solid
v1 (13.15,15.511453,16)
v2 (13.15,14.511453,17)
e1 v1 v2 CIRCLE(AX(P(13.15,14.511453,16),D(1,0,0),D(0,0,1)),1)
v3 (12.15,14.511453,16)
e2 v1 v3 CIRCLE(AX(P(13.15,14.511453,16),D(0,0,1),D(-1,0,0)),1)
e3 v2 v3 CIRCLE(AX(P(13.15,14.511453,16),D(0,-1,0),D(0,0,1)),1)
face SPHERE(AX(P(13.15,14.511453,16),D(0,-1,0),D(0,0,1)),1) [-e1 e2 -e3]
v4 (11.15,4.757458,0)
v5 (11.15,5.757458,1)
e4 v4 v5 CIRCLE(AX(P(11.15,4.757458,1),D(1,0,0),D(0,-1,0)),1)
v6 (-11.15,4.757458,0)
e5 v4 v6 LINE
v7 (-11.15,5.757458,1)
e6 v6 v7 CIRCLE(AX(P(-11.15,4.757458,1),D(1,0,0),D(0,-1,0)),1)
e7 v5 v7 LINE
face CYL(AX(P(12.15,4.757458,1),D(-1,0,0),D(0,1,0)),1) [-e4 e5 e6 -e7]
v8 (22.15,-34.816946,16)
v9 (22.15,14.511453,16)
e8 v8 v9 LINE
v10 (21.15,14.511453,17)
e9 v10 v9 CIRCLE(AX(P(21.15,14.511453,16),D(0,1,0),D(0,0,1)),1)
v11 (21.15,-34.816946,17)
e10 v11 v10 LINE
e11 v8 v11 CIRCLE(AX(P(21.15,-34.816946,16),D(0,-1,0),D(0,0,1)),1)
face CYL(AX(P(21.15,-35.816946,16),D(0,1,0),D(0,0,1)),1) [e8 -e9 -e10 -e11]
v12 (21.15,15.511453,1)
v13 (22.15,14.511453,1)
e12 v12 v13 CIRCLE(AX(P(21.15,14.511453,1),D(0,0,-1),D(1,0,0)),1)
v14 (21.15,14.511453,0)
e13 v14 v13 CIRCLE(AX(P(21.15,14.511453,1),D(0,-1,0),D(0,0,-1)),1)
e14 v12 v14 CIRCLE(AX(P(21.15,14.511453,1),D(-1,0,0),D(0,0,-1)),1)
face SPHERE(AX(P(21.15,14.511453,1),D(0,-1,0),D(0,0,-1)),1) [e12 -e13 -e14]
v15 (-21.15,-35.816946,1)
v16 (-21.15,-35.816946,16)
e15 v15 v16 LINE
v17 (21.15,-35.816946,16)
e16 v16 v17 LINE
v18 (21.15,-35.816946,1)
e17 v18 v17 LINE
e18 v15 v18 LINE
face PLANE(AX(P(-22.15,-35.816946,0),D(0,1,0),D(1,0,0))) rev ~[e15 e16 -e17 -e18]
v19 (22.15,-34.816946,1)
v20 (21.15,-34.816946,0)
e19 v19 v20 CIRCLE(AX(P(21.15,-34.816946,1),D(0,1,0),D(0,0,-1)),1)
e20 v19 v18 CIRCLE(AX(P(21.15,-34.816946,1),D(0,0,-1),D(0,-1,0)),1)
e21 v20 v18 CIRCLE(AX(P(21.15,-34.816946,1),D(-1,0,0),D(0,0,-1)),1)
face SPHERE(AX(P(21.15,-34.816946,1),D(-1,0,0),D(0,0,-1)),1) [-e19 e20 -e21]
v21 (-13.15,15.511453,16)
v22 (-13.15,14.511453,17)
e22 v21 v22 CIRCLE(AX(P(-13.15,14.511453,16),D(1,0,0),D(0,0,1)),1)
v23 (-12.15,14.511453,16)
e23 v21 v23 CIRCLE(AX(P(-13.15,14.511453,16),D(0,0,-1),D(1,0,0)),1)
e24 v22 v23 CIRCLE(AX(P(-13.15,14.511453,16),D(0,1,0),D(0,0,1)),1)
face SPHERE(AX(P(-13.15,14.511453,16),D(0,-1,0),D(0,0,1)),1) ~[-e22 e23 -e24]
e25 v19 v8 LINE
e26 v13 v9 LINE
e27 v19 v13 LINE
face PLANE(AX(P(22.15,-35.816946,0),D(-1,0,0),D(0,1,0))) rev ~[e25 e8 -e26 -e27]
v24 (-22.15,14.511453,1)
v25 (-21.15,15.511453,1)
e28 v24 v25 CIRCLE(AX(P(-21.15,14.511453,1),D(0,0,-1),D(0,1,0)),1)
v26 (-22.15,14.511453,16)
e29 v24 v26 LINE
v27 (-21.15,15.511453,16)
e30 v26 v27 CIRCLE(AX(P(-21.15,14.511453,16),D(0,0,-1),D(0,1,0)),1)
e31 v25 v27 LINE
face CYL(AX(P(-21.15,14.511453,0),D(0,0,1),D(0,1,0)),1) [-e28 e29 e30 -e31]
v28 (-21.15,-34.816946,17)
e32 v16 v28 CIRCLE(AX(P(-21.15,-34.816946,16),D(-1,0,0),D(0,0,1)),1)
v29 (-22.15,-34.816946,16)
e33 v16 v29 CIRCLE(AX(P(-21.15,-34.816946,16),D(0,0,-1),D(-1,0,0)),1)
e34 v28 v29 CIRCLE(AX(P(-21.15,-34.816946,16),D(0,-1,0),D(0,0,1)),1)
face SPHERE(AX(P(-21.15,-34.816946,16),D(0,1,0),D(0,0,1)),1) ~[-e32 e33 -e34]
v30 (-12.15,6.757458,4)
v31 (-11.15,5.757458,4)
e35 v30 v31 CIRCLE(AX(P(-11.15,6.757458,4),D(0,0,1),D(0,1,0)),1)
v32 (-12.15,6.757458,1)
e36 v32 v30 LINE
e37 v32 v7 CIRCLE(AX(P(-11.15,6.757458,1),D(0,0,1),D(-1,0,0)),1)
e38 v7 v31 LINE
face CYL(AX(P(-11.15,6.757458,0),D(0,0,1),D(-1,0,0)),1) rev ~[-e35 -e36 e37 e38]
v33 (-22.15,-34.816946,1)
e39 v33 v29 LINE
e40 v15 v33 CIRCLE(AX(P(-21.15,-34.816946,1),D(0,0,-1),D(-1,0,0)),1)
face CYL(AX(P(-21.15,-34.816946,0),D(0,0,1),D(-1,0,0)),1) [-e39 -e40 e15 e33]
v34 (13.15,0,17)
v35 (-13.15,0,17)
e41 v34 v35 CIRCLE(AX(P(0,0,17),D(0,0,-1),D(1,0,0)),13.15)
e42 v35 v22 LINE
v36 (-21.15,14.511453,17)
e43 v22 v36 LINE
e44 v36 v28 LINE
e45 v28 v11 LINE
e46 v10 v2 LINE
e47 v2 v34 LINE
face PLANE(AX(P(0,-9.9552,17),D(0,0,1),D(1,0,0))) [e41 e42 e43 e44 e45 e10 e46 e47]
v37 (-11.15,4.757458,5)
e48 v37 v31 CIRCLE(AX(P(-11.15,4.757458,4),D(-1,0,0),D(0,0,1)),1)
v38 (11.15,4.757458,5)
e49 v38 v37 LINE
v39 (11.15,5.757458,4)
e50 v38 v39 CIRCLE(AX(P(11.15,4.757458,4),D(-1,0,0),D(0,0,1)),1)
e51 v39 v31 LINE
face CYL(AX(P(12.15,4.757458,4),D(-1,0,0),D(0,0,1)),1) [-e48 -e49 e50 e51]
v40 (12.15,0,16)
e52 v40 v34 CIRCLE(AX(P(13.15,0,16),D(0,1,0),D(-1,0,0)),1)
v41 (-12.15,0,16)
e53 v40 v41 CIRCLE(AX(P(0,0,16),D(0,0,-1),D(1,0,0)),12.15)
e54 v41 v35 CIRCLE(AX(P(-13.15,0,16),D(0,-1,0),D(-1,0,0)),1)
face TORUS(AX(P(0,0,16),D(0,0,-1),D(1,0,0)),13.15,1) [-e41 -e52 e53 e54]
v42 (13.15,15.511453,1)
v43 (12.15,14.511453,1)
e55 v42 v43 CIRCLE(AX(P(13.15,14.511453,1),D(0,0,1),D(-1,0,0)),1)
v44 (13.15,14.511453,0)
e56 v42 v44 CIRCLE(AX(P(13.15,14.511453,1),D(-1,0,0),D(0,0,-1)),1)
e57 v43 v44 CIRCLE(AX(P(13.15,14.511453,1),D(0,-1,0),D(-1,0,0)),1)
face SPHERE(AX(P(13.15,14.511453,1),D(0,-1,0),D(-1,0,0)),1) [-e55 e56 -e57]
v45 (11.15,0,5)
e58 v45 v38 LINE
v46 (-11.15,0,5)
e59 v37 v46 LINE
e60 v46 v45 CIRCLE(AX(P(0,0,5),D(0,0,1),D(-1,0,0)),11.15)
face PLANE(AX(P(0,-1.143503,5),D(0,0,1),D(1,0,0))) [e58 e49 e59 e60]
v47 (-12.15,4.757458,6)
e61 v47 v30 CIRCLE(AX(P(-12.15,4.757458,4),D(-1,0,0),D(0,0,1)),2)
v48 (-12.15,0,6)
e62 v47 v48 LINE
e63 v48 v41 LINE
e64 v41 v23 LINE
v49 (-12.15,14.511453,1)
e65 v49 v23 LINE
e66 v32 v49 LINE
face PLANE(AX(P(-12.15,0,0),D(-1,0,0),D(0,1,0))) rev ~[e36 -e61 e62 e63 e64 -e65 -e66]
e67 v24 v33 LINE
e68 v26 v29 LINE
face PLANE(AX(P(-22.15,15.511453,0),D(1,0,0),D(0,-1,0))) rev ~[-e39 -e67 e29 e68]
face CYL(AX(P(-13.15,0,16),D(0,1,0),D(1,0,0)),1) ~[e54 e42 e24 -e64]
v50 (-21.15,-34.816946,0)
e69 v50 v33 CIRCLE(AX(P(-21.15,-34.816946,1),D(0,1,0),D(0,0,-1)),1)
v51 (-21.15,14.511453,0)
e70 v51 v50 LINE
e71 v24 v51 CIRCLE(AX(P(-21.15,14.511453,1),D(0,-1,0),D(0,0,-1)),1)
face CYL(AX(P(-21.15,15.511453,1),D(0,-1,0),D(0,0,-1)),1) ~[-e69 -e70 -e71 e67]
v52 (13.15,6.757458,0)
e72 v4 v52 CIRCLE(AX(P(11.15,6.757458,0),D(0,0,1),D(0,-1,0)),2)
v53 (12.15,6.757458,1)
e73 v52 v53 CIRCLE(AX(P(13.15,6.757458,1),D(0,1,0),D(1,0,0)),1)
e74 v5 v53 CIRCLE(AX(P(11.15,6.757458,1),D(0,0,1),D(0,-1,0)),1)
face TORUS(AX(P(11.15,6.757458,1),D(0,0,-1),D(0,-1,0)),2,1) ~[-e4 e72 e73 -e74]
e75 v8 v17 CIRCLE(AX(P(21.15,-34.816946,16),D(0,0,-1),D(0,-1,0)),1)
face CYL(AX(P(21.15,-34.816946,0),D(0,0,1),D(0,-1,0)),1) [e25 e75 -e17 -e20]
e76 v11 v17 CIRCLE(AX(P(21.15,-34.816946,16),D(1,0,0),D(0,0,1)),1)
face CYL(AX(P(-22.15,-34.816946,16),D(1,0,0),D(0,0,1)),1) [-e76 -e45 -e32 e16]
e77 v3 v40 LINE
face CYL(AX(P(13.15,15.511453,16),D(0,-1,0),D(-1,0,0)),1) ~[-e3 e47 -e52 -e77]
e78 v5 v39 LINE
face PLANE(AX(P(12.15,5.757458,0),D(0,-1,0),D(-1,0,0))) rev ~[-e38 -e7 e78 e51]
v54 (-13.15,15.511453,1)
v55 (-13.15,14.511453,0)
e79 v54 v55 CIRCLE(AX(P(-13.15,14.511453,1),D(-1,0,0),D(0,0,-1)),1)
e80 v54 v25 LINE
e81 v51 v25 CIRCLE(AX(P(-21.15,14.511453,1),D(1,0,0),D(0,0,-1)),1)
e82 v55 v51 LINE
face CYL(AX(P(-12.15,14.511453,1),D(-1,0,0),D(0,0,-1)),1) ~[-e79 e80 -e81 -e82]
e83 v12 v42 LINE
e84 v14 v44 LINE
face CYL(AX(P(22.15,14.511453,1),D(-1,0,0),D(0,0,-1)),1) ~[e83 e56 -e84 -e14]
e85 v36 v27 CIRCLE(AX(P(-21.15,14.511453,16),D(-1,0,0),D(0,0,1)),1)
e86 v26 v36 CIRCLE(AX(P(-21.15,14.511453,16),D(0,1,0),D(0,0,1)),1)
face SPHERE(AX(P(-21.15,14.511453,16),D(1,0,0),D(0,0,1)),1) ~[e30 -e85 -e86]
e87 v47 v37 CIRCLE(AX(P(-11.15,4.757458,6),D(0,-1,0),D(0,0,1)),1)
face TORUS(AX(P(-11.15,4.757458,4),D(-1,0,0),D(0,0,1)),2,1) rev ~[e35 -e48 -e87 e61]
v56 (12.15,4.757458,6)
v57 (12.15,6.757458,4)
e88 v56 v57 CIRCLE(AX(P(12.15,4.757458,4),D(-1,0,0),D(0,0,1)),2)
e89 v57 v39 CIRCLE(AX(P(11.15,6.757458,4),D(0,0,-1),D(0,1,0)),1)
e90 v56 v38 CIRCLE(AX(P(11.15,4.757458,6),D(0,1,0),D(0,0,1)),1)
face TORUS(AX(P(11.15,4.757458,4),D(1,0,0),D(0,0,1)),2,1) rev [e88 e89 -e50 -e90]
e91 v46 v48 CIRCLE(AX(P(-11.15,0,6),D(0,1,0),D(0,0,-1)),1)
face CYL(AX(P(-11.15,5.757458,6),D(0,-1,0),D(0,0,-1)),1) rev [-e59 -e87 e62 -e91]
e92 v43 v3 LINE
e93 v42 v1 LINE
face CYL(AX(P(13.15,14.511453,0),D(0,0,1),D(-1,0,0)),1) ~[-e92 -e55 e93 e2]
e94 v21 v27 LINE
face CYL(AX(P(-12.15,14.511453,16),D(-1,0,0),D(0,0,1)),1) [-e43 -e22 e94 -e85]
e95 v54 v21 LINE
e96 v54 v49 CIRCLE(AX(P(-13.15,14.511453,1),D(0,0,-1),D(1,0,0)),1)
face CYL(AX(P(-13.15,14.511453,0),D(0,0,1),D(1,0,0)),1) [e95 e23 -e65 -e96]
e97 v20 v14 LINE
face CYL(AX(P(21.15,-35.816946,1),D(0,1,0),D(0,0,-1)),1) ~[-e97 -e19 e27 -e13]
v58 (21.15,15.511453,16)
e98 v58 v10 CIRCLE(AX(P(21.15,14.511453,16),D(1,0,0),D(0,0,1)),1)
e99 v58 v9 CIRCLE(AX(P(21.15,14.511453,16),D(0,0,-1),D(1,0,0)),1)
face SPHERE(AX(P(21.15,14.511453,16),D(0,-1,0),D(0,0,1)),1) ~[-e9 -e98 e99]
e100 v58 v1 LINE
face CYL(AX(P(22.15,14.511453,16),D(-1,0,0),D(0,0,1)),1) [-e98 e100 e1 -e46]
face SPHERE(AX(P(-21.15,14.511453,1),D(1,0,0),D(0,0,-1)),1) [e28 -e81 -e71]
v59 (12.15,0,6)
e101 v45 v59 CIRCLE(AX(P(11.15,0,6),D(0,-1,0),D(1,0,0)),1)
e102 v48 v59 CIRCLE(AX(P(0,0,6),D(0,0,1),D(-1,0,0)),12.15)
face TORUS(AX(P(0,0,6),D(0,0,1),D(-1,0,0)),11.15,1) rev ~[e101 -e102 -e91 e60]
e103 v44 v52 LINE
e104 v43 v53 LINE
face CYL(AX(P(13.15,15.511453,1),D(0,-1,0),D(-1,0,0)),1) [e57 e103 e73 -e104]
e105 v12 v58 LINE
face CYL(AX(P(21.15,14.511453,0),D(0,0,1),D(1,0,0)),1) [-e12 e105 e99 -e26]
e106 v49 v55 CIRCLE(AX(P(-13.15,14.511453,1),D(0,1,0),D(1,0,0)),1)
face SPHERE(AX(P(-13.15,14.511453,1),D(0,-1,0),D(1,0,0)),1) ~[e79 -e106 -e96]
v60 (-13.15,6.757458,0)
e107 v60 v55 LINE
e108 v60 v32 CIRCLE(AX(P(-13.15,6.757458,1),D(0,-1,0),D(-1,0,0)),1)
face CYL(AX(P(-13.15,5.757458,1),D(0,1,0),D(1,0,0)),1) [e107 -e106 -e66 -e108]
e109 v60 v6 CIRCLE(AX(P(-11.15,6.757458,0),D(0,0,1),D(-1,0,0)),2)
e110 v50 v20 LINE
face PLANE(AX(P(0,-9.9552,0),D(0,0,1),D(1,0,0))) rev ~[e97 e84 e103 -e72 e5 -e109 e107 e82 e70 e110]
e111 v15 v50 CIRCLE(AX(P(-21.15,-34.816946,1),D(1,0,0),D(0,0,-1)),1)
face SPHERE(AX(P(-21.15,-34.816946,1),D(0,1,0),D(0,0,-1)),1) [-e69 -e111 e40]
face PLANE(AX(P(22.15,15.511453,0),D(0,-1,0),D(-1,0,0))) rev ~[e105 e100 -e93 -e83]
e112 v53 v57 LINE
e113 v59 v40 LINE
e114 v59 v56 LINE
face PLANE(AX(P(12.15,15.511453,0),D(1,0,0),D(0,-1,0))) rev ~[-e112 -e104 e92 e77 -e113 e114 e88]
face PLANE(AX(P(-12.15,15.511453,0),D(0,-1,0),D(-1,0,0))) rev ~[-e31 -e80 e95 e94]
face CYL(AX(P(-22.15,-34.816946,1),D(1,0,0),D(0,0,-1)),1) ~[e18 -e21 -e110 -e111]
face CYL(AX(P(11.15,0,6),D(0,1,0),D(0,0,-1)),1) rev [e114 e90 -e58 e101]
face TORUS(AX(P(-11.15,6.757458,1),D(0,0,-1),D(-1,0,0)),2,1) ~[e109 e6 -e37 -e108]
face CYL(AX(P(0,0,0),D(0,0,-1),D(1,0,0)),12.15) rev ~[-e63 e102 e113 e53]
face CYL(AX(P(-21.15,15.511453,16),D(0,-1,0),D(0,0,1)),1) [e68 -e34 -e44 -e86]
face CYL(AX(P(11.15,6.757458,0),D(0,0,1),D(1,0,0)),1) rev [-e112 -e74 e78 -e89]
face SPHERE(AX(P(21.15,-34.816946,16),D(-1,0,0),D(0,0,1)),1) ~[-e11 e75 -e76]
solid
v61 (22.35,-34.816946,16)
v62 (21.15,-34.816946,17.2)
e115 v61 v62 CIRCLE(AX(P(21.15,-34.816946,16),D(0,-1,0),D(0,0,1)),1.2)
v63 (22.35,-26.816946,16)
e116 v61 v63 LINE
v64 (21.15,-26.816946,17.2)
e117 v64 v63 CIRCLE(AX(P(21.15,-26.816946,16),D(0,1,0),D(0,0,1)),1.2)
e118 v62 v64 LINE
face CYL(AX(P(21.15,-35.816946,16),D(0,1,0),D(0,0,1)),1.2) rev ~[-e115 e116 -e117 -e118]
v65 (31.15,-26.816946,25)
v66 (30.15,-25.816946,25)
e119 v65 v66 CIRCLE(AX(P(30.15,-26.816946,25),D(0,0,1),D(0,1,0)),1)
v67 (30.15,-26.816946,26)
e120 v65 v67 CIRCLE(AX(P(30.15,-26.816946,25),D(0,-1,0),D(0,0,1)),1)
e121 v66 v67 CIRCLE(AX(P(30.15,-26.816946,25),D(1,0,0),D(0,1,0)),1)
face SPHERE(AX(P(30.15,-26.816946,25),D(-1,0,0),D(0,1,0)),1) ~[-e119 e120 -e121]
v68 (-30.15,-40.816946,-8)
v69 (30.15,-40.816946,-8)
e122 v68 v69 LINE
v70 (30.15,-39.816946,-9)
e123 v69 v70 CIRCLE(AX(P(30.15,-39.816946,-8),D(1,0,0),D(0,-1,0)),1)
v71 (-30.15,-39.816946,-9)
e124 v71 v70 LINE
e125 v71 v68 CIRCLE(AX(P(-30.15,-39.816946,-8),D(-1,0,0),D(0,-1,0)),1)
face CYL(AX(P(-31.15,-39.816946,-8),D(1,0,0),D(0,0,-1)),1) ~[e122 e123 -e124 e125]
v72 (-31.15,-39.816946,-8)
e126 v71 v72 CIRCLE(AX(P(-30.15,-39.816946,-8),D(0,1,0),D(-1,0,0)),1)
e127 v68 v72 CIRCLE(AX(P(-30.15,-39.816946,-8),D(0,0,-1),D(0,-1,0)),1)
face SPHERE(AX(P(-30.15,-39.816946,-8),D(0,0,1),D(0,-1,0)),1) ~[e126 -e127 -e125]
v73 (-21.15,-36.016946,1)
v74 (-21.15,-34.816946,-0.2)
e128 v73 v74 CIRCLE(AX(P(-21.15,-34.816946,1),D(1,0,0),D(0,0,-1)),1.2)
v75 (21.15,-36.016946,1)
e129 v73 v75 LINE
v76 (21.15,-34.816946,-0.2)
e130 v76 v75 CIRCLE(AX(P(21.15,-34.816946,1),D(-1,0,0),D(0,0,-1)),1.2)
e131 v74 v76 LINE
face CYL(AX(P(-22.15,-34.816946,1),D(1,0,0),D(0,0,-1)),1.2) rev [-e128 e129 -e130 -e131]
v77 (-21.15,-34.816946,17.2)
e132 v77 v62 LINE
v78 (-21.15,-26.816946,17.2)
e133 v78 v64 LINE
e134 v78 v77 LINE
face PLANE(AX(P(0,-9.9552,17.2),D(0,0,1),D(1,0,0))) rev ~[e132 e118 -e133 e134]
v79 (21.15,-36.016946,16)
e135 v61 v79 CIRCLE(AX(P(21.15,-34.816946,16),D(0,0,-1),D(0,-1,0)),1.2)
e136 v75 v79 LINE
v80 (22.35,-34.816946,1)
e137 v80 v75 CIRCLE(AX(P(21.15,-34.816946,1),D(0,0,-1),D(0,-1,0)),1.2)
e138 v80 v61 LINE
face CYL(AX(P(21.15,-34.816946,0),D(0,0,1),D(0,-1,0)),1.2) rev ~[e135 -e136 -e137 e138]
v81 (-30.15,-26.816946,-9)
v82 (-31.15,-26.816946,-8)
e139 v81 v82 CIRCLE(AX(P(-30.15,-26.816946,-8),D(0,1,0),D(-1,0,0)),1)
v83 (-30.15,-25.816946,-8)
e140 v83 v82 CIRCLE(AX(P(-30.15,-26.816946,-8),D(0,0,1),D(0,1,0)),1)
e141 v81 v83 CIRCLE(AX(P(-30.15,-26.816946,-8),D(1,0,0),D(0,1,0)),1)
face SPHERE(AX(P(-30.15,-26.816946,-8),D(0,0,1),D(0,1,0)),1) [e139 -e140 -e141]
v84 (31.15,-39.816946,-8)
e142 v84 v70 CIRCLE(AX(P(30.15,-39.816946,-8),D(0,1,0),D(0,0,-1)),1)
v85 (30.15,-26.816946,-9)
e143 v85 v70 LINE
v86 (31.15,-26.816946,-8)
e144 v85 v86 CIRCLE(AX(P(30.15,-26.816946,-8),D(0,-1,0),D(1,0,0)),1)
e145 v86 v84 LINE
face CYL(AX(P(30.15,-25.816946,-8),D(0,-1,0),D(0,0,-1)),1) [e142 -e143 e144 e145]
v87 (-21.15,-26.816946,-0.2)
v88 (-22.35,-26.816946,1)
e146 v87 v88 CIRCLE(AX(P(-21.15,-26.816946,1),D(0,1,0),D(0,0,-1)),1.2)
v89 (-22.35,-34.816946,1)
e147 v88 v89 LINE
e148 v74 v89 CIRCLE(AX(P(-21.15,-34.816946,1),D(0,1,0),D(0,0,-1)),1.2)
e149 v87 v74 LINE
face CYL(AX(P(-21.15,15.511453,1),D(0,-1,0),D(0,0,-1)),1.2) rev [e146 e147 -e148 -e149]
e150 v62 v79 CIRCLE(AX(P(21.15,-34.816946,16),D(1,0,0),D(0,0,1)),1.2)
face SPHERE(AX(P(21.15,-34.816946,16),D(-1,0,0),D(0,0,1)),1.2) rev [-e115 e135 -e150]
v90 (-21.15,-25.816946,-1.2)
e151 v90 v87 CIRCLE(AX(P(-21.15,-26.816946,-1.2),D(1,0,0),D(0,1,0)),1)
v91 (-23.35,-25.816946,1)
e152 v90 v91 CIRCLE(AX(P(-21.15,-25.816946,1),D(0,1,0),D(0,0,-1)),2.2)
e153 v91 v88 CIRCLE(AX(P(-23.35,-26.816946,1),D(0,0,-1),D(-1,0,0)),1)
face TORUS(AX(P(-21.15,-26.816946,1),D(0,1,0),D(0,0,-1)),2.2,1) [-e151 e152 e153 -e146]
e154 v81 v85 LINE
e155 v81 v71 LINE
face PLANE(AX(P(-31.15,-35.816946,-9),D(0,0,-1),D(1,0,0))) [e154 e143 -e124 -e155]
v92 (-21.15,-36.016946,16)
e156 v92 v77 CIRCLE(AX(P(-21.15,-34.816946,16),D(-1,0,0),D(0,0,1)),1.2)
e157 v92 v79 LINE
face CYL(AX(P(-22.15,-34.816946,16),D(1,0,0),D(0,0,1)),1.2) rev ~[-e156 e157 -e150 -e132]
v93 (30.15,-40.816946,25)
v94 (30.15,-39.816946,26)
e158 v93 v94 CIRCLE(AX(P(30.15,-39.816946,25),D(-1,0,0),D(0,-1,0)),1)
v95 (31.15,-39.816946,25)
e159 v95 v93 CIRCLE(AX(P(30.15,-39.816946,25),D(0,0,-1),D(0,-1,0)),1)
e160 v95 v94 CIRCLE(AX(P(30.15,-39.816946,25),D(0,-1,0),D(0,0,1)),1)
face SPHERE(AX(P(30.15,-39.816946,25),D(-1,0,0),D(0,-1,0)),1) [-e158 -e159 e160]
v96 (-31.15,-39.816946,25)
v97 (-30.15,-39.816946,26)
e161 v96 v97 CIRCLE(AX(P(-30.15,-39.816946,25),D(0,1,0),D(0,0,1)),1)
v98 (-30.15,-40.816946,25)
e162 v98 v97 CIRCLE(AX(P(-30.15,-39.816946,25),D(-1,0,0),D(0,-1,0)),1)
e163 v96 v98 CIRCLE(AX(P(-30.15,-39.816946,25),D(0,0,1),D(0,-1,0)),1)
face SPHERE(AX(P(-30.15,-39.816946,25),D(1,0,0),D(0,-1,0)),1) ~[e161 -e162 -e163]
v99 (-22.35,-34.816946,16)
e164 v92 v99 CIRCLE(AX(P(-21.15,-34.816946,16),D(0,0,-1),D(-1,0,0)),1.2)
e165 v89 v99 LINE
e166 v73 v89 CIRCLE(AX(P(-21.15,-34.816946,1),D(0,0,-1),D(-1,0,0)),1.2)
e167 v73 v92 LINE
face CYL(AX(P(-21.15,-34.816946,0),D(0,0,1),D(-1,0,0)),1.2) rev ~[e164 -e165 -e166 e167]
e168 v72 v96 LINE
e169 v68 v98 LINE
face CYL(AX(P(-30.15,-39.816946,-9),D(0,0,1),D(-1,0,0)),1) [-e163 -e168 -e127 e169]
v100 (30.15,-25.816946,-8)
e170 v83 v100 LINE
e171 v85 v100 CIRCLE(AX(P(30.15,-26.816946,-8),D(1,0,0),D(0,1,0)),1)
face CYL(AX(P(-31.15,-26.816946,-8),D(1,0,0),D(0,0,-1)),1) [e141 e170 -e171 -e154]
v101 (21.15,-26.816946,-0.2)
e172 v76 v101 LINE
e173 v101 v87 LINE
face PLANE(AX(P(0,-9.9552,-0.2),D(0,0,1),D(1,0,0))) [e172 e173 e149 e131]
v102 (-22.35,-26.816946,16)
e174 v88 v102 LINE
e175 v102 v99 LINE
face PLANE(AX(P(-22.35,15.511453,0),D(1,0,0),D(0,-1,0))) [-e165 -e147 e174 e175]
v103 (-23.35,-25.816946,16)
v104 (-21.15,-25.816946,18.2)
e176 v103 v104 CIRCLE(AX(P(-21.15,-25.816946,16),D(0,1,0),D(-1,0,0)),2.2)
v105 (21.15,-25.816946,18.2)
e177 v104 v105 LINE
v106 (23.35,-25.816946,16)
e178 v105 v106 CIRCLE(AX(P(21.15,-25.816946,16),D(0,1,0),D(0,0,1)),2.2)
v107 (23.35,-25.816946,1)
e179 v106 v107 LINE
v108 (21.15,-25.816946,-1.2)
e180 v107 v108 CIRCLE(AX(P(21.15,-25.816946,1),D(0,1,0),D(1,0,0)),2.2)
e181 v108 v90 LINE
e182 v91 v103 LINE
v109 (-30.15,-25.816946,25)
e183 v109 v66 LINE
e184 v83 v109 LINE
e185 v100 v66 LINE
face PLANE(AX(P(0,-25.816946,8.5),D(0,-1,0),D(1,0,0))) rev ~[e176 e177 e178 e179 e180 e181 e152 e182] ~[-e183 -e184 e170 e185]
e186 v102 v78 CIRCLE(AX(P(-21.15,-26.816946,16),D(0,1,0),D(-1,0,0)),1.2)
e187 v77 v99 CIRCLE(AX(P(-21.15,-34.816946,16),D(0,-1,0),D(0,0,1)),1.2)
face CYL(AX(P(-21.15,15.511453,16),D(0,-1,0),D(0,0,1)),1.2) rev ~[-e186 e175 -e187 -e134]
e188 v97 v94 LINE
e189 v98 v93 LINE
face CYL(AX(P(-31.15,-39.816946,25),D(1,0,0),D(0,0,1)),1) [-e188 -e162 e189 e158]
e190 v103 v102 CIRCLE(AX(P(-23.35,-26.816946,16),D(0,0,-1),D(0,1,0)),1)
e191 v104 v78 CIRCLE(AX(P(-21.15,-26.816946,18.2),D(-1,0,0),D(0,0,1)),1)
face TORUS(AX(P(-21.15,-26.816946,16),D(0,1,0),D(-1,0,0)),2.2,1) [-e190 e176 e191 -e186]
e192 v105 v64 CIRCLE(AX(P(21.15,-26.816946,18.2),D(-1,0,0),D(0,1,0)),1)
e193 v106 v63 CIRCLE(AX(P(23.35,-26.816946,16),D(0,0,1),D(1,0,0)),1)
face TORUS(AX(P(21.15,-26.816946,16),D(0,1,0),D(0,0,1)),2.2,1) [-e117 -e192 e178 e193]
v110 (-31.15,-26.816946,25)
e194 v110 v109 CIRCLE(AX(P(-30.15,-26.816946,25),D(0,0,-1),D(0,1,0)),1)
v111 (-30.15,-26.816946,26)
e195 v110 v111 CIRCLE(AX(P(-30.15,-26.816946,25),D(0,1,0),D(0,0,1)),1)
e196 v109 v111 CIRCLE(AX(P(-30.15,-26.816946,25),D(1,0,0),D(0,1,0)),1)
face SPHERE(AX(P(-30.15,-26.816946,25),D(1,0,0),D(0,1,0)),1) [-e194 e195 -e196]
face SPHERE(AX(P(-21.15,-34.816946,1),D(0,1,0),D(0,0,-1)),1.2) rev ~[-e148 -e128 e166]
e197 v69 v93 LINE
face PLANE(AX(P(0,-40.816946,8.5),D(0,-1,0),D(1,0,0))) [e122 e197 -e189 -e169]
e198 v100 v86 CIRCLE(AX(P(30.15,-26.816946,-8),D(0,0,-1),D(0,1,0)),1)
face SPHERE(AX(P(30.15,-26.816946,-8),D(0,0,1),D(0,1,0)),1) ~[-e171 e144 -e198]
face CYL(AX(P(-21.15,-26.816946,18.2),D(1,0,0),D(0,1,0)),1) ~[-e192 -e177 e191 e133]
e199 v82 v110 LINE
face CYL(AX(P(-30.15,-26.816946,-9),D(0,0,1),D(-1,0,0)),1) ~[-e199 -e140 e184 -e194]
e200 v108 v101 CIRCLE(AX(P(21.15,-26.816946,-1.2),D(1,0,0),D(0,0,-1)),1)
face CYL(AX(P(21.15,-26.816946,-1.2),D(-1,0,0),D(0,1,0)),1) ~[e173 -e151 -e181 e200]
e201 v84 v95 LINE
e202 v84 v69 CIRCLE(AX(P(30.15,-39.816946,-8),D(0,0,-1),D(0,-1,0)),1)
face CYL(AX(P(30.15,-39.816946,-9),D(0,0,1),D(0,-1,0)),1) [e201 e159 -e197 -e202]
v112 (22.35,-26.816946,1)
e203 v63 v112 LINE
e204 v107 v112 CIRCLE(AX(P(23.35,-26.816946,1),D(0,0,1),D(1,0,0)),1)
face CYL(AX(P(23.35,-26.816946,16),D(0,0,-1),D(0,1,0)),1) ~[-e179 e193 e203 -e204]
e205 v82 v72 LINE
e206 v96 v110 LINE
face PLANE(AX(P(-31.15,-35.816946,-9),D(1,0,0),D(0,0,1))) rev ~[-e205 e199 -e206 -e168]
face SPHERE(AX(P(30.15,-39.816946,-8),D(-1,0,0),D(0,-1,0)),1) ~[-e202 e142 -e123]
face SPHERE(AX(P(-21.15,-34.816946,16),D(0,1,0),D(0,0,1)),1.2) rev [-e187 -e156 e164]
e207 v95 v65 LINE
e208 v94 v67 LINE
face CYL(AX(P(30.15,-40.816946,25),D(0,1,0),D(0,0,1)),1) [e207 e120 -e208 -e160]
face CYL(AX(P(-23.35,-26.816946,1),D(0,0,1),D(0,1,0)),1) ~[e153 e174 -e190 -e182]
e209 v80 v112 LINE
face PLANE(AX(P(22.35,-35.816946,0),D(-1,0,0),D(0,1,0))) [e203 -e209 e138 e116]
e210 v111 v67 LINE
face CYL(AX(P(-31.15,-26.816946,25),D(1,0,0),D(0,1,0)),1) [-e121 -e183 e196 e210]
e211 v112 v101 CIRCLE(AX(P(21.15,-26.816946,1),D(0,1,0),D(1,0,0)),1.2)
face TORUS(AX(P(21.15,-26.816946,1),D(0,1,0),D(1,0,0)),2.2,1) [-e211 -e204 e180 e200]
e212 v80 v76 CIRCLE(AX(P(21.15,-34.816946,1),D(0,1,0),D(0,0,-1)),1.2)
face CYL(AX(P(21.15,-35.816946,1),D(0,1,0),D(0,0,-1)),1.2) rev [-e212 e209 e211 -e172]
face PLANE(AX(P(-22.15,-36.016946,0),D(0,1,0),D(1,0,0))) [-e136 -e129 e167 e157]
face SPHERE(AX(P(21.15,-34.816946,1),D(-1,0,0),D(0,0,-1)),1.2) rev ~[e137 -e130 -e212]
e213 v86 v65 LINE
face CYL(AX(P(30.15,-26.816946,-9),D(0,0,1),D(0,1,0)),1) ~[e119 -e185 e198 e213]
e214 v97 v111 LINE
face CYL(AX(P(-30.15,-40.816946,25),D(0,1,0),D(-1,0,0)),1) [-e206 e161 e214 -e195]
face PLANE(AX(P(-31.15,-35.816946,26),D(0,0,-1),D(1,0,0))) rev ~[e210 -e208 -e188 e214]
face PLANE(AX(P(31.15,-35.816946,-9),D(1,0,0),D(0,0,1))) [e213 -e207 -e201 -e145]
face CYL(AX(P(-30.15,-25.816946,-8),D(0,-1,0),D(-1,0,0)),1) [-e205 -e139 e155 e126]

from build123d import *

# Parameters (mm, degrees)
F1_DEPTH      = 5
F2_DEPTH      = 17
F3_R          = 1
F4_W          = 62.3
F4_H          = 35
F4_W_2        = 42.3
F4_H_2        = 15
F5_DEPTH      = 5
F5_DEPTH_BACK = 10
F6_OFFSET     = 0.2
F7_R          = 1


with BuildPart() as f1:
    # F0 (on Top) → F1 (new body)
    with BuildSketch(Plane.XY):
        with BuildLine():
            Line((-12.15, 5.7574575767), (-12.15, 0))
            ThreePointArc((-12.15, 0), (0, -12.15), (12.15, 0))
            Line((12.15, 0), (12.15, 5.7574575767))
            Line((12.15, 5.7574575767), (-12.15, 5.7574575767))
        make_face()
    extrude(amount=F1_DEPTH)

    # F0 (on Top) → F2 (join)
    with BuildSketch(Plane.XY):
        with BuildLine():
            ThreePointArc((12.15, 0), (0, -12.15), (-12.15, 0))
            Line((-12.15, 0), (-12.15, 5.7574575767))
            Line((-12.15, 5.7574575767), (-12.15, 15.5114531517))
            Line((-12.15, 15.5114531517), (-22.15, 15.5114531517))
            Line((-22.15, 15.5114531517), (-22.15, -35.8169460644))
            Line((-22.15, -35.8169460644), (0, -35.8169460644))
            Line((0, -35.8169460644), (22.15, -35.8169460644))
            Line((22.15, -35.8169460644), (22.15, 15.5114531517))
            Line((22.15, 15.5114531517), (12.15, 15.5114531517))
            Line((12.15, 15.5114531517), (12.15, 5.7574575767))
            Line((12.15, 5.7574575767), (12.15, 0))
        make_face()
    extrude(amount=F2_DEPTH)

    # F3
    f3_edges = [f1.edges().sort_by_distance(p)[0] for p in [
        (0, -12.15, 17),
        (-12.15, 7.755727, 17),
        (-17.15, 15.511453, 17),
        (-22.15, -10.152746, 17),
        (0, -35.816946, 17),
        (22.15, -10.152746, 17),
        (17.15, 15.511453, 17),
        (12.15, 7.755727, 17),
        (-12.15, 2.878729, 5),
        (-12.15, 5.757458, 2.5),
        (-12.15, 10.634455, 0),
        (-12.15, 15.511453, 8.5),
        (-12.15, 0, 11),
        (12.15, 10.634455, 0),
        (12.15, 5.757458, 2.5),
        (12.15, 2.878729, 5),
        (12.15, 0, 11),
        (12.15, 15.511453, 8.5),
        (0, 5.757458, 0),
        (0, 5.757458, 5),
        (-17.15, 15.511453, 0),
        (-22.15, -10.152746, 0),
        (0, -35.816946, 0),
        (22.15, -10.152746, 0),
        (17.15, 15.511453, 0),
        (-22.15, 15.511453, 8.5),
        (-22.15, -35.816946, 8.5),
        (22.15, -35.816946, 8.5),
        (22.15, 15.511453, 8.5),
    ]]
    fillet(f3_edges, radius=F3_R)


with BuildPart() as f5:
    # F4 (on face) → F5 (new body, two sides)
    with BuildSketch(Plane.XZ.offset(35.8169460644)) as f5_sk:
        with Locations((0, 8.5)):
            Rectangle(F4_W, F4_H)
        with Locations((0, 8.5)):
            Rectangle(F4_W_2, F4_H_2, mode=Mode.SUBTRACT)
        with Locations((0, 8.5)):
            Rectangle(F4_W_2, F4_H_2)
    extrude(amount=F5_DEPTH)
    extrude(f5_sk.sketch, amount=-F5_DEPTH_BACK)

    # F6: cut F1, made larger all round first
    f6_tool = offset(f1.part, amount=F6_OFFSET, kind=Kind.INTERSECTION, mode=Mode.PRIVATE)
    add(f6_tool, mode=Mode.SUBTRACT)

    # F7
    f7_edges = [f5.edges().sort_by_distance(p)[0] for p in [
        (0, -25.816946, 26),
        (31.15, -25.816946, 8.5),
        (-31.15, -25.816946, 8.5),
        (0, -25.816946, -9),
        (21.998528, -25.816946, 0.151472),
        (22.35, -25.816946, 8.5),
        (21.998528, -25.816946, 16.848528),
        (0, -25.816946, 17.2),
        (-21.998528, -25.816946, 16.848528),
        (-22.35, -25.816946, 8.5),
        (-21.998528, -25.816946, 0.151472),
        (0, -25.816946, -0.2),
        (0, -40.816946, 26),
        (-31.15, -40.816946, 8.5),
        (0, -40.816946, -9),
        (31.15, -40.816946, 8.5),
        (31.15, -33.316946, -9),
        (31.15, -33.316946, 26),
        (-31.15, -33.316946, 26),
        (-31.15, -33.316946, -9),
    ]]
    fillet(f7_edges, radius=F7_R)


solid = Compound([f1.part, f5.part])
